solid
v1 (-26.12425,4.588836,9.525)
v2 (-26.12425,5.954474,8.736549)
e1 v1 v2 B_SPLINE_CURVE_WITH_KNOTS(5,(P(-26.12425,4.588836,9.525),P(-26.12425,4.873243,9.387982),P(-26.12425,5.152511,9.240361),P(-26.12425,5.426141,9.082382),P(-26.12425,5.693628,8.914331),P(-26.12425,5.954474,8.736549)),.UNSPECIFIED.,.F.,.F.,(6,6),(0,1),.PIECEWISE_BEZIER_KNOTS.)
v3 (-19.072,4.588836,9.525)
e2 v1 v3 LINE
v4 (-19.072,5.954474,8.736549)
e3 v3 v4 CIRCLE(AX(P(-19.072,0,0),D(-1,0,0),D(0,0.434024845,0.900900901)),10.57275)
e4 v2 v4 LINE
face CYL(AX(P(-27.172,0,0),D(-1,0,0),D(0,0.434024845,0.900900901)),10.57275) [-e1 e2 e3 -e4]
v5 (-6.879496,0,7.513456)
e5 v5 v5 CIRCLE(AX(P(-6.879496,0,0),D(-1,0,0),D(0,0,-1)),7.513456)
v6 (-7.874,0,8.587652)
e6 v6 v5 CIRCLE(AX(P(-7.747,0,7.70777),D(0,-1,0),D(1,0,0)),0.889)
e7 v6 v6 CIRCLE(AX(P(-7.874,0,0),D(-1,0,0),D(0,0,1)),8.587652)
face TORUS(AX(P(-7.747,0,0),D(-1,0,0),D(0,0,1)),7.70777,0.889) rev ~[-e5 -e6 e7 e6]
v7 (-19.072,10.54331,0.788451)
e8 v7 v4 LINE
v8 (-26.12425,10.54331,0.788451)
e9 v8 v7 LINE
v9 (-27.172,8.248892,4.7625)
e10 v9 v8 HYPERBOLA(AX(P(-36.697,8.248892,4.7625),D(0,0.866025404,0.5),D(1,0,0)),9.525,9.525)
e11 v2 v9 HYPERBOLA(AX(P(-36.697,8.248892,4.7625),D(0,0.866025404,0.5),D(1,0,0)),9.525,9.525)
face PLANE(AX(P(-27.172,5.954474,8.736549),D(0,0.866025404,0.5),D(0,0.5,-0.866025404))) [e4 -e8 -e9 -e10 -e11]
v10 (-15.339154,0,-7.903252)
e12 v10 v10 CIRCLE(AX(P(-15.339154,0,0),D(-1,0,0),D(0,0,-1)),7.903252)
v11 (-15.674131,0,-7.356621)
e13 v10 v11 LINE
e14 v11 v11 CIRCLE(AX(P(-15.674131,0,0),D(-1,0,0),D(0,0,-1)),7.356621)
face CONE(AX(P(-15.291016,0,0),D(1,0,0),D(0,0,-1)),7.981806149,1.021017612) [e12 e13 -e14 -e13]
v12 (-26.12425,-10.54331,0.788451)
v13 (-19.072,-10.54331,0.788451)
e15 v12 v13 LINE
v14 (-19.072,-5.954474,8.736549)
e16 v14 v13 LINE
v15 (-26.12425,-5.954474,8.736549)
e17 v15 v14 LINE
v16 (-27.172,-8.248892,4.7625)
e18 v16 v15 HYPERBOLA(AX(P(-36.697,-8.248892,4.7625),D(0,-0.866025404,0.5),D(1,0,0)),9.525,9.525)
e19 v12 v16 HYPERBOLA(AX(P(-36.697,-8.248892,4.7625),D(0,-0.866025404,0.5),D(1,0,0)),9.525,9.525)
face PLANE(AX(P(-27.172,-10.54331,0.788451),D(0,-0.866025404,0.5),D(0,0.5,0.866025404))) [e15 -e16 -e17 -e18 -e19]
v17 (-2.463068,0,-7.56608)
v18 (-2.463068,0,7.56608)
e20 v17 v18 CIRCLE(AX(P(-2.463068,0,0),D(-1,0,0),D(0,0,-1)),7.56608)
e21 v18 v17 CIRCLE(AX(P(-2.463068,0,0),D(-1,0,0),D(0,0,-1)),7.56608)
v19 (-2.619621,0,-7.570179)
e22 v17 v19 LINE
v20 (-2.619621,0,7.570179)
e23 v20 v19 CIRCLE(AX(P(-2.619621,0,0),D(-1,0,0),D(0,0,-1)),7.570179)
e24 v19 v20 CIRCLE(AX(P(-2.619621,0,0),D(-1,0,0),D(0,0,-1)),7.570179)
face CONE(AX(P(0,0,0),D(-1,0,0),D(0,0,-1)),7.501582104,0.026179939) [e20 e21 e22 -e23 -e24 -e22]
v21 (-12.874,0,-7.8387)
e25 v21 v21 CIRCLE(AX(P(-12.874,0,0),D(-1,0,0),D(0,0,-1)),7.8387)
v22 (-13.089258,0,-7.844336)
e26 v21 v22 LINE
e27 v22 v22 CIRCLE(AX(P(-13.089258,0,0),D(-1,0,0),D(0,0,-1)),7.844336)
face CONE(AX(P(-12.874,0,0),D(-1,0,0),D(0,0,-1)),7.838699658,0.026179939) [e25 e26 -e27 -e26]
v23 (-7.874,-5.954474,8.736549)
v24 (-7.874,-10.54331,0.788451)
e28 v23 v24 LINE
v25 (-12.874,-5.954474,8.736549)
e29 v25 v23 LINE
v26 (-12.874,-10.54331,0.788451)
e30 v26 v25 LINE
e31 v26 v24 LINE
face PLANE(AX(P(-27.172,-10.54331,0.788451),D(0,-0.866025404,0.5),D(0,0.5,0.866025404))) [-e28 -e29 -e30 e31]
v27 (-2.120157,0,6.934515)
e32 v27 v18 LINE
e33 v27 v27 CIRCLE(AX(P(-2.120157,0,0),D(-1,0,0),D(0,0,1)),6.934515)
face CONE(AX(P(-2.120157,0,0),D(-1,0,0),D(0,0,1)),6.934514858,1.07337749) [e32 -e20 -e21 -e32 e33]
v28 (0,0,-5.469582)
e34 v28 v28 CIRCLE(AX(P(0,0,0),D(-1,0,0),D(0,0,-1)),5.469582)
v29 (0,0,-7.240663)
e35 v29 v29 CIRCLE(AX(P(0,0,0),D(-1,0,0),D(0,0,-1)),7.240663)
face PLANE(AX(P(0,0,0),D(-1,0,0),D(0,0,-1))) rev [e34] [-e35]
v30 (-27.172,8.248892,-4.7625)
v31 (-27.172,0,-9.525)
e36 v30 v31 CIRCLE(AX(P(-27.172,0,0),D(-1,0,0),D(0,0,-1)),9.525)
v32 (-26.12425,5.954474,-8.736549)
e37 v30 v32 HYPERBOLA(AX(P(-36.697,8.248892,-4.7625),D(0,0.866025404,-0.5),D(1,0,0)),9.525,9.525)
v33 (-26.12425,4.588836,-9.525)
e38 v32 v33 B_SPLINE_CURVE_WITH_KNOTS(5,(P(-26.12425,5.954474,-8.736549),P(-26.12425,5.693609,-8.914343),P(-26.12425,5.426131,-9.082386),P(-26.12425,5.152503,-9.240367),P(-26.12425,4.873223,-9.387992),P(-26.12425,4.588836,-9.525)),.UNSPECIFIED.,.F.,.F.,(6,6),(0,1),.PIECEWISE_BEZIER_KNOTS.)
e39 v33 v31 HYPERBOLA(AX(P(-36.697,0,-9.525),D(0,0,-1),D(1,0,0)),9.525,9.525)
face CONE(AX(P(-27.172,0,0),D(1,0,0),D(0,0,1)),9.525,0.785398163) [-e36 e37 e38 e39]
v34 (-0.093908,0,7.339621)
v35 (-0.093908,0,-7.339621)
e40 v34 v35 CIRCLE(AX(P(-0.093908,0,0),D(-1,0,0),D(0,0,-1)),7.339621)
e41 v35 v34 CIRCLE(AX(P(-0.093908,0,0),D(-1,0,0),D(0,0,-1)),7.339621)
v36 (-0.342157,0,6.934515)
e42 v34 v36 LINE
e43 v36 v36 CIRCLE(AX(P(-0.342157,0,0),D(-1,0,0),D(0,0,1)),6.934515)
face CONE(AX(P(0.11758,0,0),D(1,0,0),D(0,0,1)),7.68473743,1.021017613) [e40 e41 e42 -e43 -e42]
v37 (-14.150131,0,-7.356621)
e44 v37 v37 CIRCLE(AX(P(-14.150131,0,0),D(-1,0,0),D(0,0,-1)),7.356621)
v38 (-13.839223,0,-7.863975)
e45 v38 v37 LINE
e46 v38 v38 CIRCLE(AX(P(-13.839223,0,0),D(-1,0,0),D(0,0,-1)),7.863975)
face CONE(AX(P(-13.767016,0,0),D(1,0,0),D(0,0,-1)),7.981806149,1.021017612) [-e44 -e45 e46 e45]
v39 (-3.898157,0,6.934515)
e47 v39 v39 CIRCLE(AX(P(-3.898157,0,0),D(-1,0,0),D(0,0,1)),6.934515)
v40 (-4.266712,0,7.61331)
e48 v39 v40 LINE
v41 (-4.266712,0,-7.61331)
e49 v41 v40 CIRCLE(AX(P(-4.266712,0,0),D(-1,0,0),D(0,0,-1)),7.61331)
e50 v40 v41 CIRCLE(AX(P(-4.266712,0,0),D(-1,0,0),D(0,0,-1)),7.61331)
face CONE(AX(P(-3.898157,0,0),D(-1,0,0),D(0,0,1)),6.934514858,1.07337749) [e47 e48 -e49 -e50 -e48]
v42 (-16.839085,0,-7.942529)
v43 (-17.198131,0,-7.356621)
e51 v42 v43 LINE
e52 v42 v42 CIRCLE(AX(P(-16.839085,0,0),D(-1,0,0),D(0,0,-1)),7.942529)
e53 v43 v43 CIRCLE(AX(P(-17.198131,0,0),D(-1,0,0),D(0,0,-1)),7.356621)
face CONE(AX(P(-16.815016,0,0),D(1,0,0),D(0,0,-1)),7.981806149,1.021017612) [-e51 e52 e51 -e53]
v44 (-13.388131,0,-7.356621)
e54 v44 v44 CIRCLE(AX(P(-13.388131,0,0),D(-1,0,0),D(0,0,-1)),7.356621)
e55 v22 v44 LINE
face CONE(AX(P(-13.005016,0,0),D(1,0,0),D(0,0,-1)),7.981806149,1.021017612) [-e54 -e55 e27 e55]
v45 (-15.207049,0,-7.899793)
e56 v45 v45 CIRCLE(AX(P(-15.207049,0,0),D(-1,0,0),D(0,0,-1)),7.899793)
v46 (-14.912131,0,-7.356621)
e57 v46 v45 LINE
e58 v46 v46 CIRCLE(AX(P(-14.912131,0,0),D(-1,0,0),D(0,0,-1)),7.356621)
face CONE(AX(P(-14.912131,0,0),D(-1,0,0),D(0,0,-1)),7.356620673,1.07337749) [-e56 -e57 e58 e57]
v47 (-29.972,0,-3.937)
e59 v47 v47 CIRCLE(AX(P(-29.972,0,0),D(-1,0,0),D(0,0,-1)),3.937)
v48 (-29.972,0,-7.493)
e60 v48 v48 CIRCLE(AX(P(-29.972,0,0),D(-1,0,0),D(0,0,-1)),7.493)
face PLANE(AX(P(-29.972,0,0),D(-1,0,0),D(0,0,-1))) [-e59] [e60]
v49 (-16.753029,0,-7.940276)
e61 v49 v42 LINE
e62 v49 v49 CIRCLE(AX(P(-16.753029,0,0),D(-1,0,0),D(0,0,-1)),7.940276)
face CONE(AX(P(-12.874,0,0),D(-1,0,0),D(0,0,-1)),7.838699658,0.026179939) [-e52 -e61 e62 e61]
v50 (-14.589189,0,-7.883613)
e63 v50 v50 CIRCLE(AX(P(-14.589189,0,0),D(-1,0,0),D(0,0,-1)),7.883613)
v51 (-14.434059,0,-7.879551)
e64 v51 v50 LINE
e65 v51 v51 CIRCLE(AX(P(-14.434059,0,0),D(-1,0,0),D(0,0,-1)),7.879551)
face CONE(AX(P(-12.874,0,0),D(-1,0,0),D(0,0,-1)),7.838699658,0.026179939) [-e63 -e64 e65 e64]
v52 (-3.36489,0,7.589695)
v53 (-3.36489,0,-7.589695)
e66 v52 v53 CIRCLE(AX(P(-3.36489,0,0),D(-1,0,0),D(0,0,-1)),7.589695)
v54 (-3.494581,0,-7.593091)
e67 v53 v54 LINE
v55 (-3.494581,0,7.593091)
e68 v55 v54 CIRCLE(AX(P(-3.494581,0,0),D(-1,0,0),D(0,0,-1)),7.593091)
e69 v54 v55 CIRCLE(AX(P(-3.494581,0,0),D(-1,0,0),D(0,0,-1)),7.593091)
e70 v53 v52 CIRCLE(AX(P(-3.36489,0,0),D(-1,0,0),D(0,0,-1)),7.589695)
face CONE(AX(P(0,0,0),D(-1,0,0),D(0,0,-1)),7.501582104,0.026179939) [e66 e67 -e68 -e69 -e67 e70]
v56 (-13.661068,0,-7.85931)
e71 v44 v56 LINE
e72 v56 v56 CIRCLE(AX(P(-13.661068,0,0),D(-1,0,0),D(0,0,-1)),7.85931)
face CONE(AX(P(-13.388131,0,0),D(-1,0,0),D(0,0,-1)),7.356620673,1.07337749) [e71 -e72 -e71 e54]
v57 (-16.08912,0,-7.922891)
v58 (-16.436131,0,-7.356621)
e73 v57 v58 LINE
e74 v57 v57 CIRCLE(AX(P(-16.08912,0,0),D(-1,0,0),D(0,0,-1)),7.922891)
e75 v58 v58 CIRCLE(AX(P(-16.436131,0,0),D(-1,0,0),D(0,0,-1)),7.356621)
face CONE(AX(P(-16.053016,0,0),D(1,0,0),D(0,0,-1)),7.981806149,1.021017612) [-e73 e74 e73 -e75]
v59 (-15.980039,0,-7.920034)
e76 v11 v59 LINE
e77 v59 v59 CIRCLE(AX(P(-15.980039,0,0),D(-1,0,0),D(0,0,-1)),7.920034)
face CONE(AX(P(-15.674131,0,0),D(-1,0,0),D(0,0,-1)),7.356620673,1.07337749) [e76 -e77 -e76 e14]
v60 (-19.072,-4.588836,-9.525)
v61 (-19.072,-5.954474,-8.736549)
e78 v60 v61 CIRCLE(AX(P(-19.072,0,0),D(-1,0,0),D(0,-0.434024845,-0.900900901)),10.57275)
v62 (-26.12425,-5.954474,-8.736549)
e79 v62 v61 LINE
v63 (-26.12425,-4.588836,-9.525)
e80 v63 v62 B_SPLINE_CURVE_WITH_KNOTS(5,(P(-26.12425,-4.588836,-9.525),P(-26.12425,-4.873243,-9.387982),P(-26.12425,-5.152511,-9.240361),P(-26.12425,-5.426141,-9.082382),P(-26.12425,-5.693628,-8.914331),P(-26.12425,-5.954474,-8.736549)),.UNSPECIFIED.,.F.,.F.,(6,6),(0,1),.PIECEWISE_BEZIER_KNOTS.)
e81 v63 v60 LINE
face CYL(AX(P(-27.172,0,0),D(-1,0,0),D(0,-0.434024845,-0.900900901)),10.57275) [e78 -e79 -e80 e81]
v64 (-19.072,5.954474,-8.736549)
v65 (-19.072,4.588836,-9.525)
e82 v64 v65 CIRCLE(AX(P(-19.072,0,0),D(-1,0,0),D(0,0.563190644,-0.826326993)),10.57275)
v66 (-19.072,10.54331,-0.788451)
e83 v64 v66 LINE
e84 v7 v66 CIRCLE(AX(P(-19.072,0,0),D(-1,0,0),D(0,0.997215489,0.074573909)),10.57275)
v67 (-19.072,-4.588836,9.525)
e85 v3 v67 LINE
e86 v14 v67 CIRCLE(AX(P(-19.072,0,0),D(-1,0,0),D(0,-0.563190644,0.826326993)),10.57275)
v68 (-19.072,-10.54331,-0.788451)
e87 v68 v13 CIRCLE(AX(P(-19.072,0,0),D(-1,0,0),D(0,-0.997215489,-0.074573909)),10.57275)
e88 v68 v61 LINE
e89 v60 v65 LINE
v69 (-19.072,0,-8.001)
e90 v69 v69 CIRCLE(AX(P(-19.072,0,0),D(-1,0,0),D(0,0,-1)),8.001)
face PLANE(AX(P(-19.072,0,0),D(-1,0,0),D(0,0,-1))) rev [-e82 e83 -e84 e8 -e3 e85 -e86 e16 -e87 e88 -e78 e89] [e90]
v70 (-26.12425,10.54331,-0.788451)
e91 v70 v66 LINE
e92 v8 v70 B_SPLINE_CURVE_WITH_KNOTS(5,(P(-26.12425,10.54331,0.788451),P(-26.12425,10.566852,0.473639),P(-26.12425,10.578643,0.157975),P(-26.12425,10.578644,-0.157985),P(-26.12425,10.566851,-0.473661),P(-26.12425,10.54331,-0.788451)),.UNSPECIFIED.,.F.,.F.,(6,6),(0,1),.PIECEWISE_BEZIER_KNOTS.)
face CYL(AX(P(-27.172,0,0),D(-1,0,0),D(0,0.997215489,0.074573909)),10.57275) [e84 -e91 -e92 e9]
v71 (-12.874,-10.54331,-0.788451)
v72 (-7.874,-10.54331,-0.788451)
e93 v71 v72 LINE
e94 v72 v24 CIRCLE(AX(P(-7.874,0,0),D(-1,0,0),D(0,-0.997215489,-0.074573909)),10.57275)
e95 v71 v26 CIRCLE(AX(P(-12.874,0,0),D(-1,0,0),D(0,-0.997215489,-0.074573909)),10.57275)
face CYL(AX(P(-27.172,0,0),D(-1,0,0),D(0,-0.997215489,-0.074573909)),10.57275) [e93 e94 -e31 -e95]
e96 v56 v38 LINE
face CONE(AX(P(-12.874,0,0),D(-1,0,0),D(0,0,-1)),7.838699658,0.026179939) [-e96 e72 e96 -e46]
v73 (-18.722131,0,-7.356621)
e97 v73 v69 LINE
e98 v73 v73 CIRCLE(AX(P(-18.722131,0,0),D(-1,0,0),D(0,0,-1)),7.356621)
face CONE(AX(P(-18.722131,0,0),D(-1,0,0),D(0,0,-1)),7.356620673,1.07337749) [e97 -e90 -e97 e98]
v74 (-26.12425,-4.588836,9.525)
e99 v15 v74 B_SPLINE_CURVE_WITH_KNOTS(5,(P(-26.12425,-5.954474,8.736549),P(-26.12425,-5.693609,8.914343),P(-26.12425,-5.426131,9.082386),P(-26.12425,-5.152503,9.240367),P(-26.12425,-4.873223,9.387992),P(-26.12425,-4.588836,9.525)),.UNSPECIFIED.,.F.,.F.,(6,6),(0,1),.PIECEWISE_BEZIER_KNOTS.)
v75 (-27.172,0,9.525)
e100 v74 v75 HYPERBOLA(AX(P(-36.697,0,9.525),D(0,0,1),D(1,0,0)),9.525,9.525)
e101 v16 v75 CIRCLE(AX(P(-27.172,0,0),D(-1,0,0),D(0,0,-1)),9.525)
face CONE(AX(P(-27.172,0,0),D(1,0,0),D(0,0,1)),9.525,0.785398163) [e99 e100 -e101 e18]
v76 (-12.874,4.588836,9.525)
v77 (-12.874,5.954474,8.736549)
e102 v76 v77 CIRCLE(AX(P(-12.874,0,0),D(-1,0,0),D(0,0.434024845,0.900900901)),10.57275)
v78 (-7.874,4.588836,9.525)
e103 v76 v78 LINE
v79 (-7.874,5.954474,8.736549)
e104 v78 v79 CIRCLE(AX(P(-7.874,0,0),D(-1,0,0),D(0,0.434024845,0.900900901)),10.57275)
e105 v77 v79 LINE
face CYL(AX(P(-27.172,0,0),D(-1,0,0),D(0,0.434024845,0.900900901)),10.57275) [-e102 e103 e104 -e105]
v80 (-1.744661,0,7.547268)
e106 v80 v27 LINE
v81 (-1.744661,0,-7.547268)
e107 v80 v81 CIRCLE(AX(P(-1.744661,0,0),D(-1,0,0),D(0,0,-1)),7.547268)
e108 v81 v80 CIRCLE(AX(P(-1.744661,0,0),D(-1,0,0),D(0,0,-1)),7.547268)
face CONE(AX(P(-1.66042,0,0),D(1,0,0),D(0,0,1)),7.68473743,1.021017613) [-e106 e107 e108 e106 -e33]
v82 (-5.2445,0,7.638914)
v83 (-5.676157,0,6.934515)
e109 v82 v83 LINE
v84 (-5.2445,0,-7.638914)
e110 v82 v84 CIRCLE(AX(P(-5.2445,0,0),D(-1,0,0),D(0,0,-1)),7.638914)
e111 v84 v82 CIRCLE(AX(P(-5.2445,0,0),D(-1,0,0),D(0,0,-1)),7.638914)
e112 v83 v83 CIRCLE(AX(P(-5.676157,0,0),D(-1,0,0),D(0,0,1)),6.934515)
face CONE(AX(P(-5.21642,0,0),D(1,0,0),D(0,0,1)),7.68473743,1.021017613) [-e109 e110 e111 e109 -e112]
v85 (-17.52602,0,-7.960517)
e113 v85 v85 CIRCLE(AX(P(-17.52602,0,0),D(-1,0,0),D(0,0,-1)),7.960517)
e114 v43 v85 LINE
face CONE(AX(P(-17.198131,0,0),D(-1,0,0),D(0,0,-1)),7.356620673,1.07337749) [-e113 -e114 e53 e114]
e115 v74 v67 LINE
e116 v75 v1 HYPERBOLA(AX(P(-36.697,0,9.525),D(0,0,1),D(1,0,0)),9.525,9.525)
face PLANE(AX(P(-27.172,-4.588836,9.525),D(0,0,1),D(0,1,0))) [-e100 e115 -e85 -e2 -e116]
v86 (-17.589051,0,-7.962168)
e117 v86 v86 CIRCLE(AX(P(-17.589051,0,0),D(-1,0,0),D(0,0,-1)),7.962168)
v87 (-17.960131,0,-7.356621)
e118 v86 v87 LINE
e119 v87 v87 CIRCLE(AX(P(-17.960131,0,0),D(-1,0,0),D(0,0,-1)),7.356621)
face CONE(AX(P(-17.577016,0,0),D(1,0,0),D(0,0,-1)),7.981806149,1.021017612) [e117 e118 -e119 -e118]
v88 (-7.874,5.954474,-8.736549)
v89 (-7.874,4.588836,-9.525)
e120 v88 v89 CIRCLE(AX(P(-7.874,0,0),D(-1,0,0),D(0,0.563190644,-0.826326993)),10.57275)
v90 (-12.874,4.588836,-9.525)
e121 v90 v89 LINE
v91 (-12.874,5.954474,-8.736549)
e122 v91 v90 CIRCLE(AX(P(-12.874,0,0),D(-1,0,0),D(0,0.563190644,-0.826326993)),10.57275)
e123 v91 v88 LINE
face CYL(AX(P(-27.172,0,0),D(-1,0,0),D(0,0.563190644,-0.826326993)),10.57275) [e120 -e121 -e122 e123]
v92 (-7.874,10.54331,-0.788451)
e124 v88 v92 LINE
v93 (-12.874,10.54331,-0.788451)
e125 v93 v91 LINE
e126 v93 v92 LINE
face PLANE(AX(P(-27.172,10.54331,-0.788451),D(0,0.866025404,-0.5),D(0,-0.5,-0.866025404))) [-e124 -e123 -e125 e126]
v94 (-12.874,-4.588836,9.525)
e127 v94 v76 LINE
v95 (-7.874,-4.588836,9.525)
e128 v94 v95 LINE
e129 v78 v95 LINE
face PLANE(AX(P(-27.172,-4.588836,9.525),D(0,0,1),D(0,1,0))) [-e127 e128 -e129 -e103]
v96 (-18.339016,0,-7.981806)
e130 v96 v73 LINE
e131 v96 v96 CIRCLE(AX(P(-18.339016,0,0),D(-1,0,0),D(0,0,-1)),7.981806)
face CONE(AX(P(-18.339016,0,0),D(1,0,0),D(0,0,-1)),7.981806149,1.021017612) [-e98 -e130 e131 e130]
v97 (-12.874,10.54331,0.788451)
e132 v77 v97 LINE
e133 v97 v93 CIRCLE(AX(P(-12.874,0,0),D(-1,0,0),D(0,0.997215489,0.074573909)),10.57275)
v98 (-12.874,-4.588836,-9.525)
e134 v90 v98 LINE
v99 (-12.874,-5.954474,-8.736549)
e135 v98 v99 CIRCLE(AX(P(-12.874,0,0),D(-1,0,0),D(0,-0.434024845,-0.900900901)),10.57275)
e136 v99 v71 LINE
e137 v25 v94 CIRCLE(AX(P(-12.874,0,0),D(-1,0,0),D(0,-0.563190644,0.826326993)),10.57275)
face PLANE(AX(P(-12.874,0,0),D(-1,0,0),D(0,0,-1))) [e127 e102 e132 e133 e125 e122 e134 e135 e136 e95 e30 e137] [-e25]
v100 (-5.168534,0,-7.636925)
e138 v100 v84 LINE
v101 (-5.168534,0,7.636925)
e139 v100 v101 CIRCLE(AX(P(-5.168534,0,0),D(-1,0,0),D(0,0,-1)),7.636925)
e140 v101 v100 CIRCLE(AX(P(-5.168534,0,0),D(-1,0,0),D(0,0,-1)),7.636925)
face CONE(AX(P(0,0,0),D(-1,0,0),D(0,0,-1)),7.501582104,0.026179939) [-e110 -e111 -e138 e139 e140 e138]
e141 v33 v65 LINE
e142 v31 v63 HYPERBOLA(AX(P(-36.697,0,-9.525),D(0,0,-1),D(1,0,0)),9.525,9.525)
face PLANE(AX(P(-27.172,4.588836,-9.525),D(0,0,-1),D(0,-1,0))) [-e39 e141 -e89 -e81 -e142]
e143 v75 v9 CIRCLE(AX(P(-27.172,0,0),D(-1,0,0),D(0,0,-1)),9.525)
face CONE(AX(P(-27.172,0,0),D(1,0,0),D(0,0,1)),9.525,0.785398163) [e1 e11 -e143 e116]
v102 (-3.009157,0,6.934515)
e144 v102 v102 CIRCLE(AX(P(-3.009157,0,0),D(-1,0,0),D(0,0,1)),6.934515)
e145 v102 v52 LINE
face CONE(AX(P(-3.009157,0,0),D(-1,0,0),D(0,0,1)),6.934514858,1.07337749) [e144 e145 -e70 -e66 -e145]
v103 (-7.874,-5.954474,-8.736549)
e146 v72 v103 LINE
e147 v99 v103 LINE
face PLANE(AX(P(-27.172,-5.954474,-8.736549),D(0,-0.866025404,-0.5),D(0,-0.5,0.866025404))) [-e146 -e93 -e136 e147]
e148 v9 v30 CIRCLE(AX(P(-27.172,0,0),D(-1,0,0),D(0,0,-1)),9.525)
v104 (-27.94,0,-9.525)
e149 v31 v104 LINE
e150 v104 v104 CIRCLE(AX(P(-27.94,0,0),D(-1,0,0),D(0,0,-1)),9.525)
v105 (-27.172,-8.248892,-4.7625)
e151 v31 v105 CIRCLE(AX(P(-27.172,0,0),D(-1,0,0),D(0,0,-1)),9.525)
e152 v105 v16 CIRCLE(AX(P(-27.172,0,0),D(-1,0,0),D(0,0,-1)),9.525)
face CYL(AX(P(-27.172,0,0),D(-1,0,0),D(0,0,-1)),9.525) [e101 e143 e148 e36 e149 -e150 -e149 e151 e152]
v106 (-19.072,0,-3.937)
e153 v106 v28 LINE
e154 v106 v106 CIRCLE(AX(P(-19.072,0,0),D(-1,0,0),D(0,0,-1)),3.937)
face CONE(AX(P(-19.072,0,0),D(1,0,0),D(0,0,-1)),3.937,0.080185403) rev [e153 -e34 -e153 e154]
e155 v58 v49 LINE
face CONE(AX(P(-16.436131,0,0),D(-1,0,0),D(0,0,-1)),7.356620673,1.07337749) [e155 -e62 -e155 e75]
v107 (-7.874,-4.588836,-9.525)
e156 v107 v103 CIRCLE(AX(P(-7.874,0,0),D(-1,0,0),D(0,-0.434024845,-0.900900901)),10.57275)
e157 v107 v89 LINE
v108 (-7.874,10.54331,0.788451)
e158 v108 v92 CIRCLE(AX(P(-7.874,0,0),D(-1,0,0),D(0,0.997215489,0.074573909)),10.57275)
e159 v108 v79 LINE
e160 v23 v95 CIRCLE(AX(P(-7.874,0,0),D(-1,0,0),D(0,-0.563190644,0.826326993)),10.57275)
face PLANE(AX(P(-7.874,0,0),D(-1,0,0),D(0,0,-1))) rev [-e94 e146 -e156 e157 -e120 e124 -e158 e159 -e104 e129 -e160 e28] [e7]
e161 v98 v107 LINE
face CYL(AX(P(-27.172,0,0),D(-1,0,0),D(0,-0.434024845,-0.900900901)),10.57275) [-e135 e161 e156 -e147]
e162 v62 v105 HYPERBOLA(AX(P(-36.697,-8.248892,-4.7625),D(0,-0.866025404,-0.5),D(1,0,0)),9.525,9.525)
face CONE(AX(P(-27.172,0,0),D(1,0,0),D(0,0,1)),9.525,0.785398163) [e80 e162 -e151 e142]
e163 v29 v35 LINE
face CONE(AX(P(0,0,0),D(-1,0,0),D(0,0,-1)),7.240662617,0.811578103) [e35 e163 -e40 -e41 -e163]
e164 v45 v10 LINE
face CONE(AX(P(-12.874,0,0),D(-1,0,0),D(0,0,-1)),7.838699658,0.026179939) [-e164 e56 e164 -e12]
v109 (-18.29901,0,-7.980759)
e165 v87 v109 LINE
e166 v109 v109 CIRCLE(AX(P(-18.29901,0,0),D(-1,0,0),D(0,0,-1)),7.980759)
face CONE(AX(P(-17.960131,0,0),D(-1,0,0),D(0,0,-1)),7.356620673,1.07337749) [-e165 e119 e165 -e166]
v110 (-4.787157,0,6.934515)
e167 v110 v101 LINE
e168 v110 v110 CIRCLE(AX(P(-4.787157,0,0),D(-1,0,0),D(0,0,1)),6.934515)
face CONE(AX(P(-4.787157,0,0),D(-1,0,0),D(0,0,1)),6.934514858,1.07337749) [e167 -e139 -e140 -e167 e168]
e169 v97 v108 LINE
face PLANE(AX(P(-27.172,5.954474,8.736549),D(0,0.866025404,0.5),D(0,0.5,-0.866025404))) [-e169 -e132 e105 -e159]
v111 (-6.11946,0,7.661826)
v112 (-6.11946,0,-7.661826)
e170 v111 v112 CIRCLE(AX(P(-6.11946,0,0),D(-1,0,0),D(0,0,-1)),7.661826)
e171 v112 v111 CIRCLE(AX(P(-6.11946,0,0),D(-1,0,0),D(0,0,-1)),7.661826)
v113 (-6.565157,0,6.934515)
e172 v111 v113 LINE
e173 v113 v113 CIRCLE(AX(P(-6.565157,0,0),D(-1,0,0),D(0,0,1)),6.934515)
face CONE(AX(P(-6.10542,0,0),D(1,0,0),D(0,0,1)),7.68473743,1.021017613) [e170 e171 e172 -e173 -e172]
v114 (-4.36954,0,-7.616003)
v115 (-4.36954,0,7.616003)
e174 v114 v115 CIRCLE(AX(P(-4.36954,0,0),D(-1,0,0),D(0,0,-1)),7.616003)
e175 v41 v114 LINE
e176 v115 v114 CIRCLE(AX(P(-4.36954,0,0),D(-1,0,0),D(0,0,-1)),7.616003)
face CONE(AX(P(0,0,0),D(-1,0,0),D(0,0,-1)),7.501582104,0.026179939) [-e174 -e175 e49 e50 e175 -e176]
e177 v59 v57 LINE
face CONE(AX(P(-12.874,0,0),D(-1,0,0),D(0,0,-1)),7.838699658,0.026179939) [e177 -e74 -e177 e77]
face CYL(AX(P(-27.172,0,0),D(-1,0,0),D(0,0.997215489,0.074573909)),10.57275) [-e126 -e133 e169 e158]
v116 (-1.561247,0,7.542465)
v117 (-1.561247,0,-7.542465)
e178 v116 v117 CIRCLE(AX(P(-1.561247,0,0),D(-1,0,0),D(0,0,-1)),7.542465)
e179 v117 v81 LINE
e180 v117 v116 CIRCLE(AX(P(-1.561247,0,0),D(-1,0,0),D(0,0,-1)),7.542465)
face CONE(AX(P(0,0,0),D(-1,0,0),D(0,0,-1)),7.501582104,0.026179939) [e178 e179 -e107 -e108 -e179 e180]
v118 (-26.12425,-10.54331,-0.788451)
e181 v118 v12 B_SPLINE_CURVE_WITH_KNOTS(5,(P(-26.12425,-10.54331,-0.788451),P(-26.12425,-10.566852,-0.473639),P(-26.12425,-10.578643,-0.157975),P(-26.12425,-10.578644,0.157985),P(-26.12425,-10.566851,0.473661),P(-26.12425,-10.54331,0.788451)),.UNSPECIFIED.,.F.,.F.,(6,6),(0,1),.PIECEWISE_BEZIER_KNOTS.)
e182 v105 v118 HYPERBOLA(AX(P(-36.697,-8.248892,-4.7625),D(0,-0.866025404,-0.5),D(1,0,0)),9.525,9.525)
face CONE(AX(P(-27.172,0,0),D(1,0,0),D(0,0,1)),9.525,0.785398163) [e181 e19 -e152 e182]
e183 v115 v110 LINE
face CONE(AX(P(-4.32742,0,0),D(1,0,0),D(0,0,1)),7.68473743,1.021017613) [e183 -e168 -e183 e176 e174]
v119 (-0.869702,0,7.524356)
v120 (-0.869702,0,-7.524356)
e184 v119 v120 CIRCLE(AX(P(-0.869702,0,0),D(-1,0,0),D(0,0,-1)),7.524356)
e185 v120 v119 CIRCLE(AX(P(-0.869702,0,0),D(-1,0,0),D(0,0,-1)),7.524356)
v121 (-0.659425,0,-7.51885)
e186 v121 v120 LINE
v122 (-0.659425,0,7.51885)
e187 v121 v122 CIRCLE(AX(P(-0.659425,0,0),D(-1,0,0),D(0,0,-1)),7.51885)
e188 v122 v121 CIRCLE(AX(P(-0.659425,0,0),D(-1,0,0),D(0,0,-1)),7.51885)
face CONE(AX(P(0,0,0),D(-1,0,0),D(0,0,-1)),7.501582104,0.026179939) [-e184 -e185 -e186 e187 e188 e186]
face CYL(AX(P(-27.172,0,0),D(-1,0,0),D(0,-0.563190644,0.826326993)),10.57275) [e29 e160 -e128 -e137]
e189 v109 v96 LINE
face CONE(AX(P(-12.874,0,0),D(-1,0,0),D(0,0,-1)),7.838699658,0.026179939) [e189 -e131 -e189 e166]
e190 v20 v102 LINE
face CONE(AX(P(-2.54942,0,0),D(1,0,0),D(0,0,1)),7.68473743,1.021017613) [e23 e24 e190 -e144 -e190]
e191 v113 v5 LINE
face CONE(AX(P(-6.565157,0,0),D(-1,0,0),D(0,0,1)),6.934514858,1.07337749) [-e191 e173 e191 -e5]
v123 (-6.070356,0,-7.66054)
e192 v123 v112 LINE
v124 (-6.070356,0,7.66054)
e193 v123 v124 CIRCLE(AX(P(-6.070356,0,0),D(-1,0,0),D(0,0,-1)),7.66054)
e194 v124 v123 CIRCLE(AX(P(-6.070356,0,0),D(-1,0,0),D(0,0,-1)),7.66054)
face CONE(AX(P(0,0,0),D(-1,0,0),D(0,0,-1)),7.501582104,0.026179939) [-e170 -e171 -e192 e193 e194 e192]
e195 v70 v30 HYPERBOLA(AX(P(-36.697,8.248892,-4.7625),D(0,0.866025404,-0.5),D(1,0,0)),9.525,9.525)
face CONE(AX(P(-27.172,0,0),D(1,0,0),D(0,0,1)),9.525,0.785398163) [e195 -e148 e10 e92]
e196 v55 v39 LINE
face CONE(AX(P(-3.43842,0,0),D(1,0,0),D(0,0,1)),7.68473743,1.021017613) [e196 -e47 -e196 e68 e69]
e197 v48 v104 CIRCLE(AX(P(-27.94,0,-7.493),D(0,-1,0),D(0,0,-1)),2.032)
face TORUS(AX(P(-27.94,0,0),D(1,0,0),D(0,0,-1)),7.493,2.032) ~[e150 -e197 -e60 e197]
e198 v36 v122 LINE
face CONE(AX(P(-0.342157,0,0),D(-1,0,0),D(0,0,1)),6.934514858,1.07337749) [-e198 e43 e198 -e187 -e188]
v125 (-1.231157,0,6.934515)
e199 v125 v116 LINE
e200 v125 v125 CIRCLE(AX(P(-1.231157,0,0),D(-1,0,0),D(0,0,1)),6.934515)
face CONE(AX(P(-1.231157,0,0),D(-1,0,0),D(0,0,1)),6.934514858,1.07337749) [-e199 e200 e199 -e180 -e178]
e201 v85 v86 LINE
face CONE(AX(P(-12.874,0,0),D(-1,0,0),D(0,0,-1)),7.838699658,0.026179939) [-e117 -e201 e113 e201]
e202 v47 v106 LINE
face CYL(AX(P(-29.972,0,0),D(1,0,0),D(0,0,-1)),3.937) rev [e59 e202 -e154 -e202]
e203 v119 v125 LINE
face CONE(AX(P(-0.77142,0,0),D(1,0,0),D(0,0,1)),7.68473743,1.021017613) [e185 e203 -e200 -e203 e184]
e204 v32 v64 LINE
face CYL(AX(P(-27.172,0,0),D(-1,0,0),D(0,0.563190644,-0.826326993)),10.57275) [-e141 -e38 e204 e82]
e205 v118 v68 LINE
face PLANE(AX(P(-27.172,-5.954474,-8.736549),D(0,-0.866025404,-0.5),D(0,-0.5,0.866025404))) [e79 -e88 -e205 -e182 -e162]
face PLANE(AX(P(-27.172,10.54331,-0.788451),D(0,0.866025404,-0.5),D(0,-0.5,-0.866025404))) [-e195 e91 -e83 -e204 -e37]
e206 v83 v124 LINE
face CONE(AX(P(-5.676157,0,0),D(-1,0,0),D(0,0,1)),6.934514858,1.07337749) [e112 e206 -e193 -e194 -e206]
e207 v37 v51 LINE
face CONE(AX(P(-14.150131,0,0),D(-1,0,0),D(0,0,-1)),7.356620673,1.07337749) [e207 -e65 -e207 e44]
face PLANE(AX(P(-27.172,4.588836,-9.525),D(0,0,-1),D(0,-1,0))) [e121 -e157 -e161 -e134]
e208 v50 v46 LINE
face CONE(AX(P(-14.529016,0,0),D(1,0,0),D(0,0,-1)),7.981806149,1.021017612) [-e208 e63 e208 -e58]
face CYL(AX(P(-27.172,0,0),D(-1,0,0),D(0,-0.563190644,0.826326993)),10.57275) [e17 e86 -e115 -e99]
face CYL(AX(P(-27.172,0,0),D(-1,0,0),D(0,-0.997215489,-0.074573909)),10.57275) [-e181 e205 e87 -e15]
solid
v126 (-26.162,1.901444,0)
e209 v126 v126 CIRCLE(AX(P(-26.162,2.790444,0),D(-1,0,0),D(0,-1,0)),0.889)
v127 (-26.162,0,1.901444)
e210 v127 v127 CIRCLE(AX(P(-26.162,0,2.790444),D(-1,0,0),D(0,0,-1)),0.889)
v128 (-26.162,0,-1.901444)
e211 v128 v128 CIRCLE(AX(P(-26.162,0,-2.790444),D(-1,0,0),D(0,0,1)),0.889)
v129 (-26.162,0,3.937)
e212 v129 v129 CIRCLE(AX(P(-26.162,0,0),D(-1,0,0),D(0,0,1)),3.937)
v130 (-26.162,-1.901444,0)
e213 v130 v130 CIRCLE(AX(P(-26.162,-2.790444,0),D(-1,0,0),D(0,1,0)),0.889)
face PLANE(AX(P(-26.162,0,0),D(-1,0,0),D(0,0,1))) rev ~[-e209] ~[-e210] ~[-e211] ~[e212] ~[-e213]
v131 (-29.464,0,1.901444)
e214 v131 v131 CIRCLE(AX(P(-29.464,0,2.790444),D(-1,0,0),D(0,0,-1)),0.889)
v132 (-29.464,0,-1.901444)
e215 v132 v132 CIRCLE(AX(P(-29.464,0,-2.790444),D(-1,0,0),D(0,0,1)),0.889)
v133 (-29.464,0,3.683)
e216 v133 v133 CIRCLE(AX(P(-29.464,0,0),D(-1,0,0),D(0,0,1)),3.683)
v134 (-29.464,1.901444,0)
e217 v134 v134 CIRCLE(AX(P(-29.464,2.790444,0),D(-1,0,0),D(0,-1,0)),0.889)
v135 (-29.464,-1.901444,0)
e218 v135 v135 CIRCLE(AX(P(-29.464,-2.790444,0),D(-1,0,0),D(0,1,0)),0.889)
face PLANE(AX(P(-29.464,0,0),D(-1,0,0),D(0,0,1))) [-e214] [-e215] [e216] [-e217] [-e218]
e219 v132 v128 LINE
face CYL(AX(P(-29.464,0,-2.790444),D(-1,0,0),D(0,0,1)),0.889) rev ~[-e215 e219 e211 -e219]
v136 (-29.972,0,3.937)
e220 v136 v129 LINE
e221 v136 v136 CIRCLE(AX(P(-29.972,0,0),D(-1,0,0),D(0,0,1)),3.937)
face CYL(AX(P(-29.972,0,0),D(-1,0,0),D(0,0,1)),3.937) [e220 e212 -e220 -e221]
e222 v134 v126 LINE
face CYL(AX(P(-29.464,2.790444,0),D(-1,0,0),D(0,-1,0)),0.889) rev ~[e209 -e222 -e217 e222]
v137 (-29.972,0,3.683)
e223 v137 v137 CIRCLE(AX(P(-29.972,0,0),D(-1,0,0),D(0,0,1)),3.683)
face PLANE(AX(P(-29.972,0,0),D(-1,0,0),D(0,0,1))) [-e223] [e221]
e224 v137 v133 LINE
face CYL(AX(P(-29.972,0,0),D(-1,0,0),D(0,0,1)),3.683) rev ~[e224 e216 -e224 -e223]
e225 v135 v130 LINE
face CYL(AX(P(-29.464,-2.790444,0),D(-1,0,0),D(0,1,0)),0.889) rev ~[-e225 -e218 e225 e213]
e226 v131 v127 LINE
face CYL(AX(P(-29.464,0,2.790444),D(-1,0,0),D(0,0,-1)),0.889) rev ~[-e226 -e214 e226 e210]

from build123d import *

# Parameters (mm, degrees)
SKETCH12_OUTSIDE_W = 52.432
SKETCH12_OUTSIDE_H = 52.432
CUT_EXTRUDE2_DEPTH = 28.172
FILLET4_R          = 2.032
SKETCH19_OUTSIDE_W = 33.316
SKETCH19_OUTSIDE_H = 35.412
SKETCH19_OUTSIDE_R = 9.525
CUT_EXTRUDE3_DEPTH = 1.999996
CUT_EXTRUDE3_DRAFT = -45
CHAMFER1_SIZE      = 0.260919487
CHAMFER1_SIZE2     = 0.254
SKETCH21_R         = 3.937
PLUG_DEPTH         = 3.81
SKETCH22_R         = 3.683
CUT_EXTRUDE4_DEPTH = 0.508
SKETCH27_R         = 0.889
PLUGHOLES_DEPTH    = 30.464
CIRPATTERN1_COUNT  = 4
LPATTERN1_COUNT    = 8
LPATTERN1_PITCH    = 0.762
LPATTERN2_COUNT    = 9
LPATTERN2_PITCH    = 0.889
SKETCH32_R         = 0.889


with BuildPart() as part:
    # Sketch10 → Revolve2 (revolve)
    with BuildSketch(Plane.XY, mode=Mode.PRIVATE) as revolve2_sk:
        Polygon((-29.972, 3.937), (-19.072, 3.937), (0, 5.469582104), (0, 7.501582104), (-7.874, 7.70777005), (-7.874, 19.05), (-12.874, 19.05), (-12.874, 7.838699658), (-19.072, 8.001), (-19.072, 19.05), (-27.172, 19.05), (-27.172, 9.525), (-29.972, 9.525), align=None)
    revolve(revolve2_sk.sketch.rotate(Axis((0, 0, 0), (-1, 0, 0)), 90), axis=Axis((0, 0, 0), (-1, 0, 0)))  # turned: the seam where the file's is

    # Sketch12 outside → Cut-Extrude2 (cut, through all)
    with BuildSketch(Plane.ZY.offset(27.172)):
        Rectangle(SKETCH12_OUTSIDE_W, SKETCH12_OUTSIDE_H)
        with BuildLine():
            Line((-0.788451287, 10.543310065), (-8.736548713, 5.954473877))
            ThreePointArc((-8.736548713, 5.954473877), (-9.156270088, 5.286375), (-9.525, 4.588836188))
            Line((-9.525, 4.588836188), (-9.525, -4.588836188))
            ThreePointArc((-9.525, -4.588836188), (-9.156270088, -5.286375), (-8.736548713, -5.954473877))
            Line((-8.736548713, -5.954473877), (-0.788451287, -10.543310065))
            ThreePointArc((-0.788451287, -10.543310065), (0, -10.57275), (0.788451287, -10.543310065))
            Line((0.788451287, -10.543310065), (8.736548713, -5.954473877))
            ThreePointArc((8.736548713, -5.954473877), (9.156270088, -5.286375), (9.525, -4.588836188))
            Line((9.525, -4.588836188), (9.525, 4.588836188))
            ThreePointArc((9.525, 4.588836188), (9.156270088, 5.286375), (8.736548713, 5.954473877))
            Line((8.736548713, 5.954473877), (0.788451287, 10.543310065))
            ThreePointArc((0.788451287, 10.543310065), (0, 10.57275), (-0.788451287, 10.543310065))
        make_face(mode=Mode.SUBTRACT)
    extrude(amount=-CUT_EXTRUDE2_DEPTH, mode=Mode.SUBTRACT)

    # Fillet4
    fillet4_edges = [part.edges().sort_by_distance(p)[0] for p in [
        (-29.972, 0, 9.525),
    ]]
    fillet(fillet4_edges, radius=FILLET4_R)


with BuildPart() as cut_extrude3_tool:
    # Sketch19 outside → Cut-Extrude3 (with draft: the straight prism first)
    with BuildSketch(Plane.ZY.offset(27.172)):
        Rectangle(SKETCH19_OUTSIDE_W, SKETCH19_OUTSIDE_H)
        Circle(SKETCH19_OUTSIDE_R, mode=Mode.SUBTRACT)
    extrude(amount=-CUT_EXTRUDE3_DEPTH)
    # Cut-Extrude3: the draft: its side faces are tilted about the plane it starts from
    cut_extrude3_sides = [cut_extrude3_tool.faces().sort_by_distance(p)[0] for p in [
        (-26.172002, -17.706, 0),
        (-26.172002, 0, 16.658),
        (-26.172002, 17.706, 0),
        (-26.172002, 0, -16.658),
        (-26.172002, 0, -9.525),
    ]]
    draft(cut_extrude3_sides, Plane.ZY.offset(27.172), CUT_EXTRUDE3_DRAFT)


with BuildPart() as part_1:
    add(part.part)

    # Cut-Extrude3: cut by cut_extrude3_tool
    add(cut_extrude3_tool.part, mode=Mode.SUBTRACT)

    # Chamfer1
    chamfer1_edges = [part_1.edges().sort_by_distance(p)[0] for p in [
        (0, 0, 7.501582104),
    ]]
    chamfer1_side = [part_1.faces().sort_by_distance(p)[0] for p in [
        (0, 0, 5.681758887),
    ]]
    chamfer(chamfer1_edges, length=CHAMFER1_SIZE, length2=CHAMFER1_SIZE2, reference=chamfer1_side[0])

    # Sketch29 → Cut-Revolve1 (revolve, cut)
    with BuildSketch(Plane.XY, mode=Mode.PRIVATE) as cut_revolve1_sk:
        Polygon((-19.072, 8.001), (-18.339016419, 7.981806149), (-18.722130572, 7.356620673), align=None)
    cut_revolve1 = revolve(cut_revolve1_sk.sketch.rotate(Axis((0, 0, 0), (-1, 0, 0)), 90), axis=Axis((0, 0, 0), (-1, 0, 0)), mode=Mode.SUBTRACT)  # turned: the seam where the file's is

    # LPattern1: Cut-Revolve1 ×8
    with Locations(*[(i * LPATTERN1_PITCH, 0, 0) for i in range(1, LPATTERN1_COUNT)]):
        add(cut_revolve1, mode=Mode.SUBTRACT)

    # Sketch30 → Cut-Revolve2 (revolve, cut)
    with BuildSketch(Plane.XY, mode=Mode.PRIVATE) as cut_revolve2_sk:
        Polygon((-7.874, 7.70777005), (-6.994419703, 7.68473743), (-7.454156686, 6.934514858), align=None)
    cut_revolve2 = revolve(cut_revolve2_sk.sketch.rotate(Axis((0, 0, 0), (-1, 0, 0)), 270), axis=Axis((0, 0, 0), (-1, 0, 0)), mode=Mode.SUBTRACT)  # turned: the seam where the file's is

    # LPattern2: Cut-Revolve2 ×9
    with Locations(*[(i * LPATTERN2_PITCH, 0, 0) for i in range(1, LPATTERN2_COUNT)]):
        add(cut_revolve2, mode=Mode.SUBTRACT)

    # Sketch32 → Cut-Revolve3 (revolve, cut)
    with BuildSketch(Plane.XY, mode=Mode.PRIVATE) as cut_revolve3_sk:
        with Locations((-7.747, 7.70777005)):
            Circle(SKETCH32_R)
    revolve(cut_revolve3_sk.sketch.rotate(Axis((0, 0, 0), (-1, 0, 0)), 270), axis=Axis((0, 0, 0), (-1, 0, 0)), mode=Mode.SUBTRACT)  # turned: the seam where the file's is


with BuildPart() as body_2:
    # Sketch21 → plug (new body)
    with BuildSketch(Plane.ZY.offset(29.972)):
        Circle(SKETCH21_R)
    extrude(amount=-PLUG_DEPTH)

    # Sketch22 → Cut-Extrude4 (cut)
    with BuildSketch(Plane.ZY.offset(29.972)):
        Circle(SKETCH22_R)
    extrude(amount=-CUT_EXTRUDE4_DEPTH, mode=Mode.SUBTRACT)

    # Sketch27 → plugholes (cut, through all)
    with BuildSketch(Plane.ZY.offset(29.464)):
        with Locations((-2.790444, 0)):
            Circle(SKETCH27_R)
    plugholes = extrude(amount=-PLUGHOLES_DEPTH, mode=Mode.SUBTRACT)

    # CirPattern1: plugholes ×4 about axis
    cirpattern1_axis = Axis((0, 0, 0), (1, 0, 0))
    for i in range(1, CIRPATTERN1_COUNT):
        add(plugholes.rotate(cirpattern1_axis, i * 360 / CIRPATTERN1_COUNT), mode=Mode.SUBTRACT)


solid = Compound([part_1.part, body_2.part])
